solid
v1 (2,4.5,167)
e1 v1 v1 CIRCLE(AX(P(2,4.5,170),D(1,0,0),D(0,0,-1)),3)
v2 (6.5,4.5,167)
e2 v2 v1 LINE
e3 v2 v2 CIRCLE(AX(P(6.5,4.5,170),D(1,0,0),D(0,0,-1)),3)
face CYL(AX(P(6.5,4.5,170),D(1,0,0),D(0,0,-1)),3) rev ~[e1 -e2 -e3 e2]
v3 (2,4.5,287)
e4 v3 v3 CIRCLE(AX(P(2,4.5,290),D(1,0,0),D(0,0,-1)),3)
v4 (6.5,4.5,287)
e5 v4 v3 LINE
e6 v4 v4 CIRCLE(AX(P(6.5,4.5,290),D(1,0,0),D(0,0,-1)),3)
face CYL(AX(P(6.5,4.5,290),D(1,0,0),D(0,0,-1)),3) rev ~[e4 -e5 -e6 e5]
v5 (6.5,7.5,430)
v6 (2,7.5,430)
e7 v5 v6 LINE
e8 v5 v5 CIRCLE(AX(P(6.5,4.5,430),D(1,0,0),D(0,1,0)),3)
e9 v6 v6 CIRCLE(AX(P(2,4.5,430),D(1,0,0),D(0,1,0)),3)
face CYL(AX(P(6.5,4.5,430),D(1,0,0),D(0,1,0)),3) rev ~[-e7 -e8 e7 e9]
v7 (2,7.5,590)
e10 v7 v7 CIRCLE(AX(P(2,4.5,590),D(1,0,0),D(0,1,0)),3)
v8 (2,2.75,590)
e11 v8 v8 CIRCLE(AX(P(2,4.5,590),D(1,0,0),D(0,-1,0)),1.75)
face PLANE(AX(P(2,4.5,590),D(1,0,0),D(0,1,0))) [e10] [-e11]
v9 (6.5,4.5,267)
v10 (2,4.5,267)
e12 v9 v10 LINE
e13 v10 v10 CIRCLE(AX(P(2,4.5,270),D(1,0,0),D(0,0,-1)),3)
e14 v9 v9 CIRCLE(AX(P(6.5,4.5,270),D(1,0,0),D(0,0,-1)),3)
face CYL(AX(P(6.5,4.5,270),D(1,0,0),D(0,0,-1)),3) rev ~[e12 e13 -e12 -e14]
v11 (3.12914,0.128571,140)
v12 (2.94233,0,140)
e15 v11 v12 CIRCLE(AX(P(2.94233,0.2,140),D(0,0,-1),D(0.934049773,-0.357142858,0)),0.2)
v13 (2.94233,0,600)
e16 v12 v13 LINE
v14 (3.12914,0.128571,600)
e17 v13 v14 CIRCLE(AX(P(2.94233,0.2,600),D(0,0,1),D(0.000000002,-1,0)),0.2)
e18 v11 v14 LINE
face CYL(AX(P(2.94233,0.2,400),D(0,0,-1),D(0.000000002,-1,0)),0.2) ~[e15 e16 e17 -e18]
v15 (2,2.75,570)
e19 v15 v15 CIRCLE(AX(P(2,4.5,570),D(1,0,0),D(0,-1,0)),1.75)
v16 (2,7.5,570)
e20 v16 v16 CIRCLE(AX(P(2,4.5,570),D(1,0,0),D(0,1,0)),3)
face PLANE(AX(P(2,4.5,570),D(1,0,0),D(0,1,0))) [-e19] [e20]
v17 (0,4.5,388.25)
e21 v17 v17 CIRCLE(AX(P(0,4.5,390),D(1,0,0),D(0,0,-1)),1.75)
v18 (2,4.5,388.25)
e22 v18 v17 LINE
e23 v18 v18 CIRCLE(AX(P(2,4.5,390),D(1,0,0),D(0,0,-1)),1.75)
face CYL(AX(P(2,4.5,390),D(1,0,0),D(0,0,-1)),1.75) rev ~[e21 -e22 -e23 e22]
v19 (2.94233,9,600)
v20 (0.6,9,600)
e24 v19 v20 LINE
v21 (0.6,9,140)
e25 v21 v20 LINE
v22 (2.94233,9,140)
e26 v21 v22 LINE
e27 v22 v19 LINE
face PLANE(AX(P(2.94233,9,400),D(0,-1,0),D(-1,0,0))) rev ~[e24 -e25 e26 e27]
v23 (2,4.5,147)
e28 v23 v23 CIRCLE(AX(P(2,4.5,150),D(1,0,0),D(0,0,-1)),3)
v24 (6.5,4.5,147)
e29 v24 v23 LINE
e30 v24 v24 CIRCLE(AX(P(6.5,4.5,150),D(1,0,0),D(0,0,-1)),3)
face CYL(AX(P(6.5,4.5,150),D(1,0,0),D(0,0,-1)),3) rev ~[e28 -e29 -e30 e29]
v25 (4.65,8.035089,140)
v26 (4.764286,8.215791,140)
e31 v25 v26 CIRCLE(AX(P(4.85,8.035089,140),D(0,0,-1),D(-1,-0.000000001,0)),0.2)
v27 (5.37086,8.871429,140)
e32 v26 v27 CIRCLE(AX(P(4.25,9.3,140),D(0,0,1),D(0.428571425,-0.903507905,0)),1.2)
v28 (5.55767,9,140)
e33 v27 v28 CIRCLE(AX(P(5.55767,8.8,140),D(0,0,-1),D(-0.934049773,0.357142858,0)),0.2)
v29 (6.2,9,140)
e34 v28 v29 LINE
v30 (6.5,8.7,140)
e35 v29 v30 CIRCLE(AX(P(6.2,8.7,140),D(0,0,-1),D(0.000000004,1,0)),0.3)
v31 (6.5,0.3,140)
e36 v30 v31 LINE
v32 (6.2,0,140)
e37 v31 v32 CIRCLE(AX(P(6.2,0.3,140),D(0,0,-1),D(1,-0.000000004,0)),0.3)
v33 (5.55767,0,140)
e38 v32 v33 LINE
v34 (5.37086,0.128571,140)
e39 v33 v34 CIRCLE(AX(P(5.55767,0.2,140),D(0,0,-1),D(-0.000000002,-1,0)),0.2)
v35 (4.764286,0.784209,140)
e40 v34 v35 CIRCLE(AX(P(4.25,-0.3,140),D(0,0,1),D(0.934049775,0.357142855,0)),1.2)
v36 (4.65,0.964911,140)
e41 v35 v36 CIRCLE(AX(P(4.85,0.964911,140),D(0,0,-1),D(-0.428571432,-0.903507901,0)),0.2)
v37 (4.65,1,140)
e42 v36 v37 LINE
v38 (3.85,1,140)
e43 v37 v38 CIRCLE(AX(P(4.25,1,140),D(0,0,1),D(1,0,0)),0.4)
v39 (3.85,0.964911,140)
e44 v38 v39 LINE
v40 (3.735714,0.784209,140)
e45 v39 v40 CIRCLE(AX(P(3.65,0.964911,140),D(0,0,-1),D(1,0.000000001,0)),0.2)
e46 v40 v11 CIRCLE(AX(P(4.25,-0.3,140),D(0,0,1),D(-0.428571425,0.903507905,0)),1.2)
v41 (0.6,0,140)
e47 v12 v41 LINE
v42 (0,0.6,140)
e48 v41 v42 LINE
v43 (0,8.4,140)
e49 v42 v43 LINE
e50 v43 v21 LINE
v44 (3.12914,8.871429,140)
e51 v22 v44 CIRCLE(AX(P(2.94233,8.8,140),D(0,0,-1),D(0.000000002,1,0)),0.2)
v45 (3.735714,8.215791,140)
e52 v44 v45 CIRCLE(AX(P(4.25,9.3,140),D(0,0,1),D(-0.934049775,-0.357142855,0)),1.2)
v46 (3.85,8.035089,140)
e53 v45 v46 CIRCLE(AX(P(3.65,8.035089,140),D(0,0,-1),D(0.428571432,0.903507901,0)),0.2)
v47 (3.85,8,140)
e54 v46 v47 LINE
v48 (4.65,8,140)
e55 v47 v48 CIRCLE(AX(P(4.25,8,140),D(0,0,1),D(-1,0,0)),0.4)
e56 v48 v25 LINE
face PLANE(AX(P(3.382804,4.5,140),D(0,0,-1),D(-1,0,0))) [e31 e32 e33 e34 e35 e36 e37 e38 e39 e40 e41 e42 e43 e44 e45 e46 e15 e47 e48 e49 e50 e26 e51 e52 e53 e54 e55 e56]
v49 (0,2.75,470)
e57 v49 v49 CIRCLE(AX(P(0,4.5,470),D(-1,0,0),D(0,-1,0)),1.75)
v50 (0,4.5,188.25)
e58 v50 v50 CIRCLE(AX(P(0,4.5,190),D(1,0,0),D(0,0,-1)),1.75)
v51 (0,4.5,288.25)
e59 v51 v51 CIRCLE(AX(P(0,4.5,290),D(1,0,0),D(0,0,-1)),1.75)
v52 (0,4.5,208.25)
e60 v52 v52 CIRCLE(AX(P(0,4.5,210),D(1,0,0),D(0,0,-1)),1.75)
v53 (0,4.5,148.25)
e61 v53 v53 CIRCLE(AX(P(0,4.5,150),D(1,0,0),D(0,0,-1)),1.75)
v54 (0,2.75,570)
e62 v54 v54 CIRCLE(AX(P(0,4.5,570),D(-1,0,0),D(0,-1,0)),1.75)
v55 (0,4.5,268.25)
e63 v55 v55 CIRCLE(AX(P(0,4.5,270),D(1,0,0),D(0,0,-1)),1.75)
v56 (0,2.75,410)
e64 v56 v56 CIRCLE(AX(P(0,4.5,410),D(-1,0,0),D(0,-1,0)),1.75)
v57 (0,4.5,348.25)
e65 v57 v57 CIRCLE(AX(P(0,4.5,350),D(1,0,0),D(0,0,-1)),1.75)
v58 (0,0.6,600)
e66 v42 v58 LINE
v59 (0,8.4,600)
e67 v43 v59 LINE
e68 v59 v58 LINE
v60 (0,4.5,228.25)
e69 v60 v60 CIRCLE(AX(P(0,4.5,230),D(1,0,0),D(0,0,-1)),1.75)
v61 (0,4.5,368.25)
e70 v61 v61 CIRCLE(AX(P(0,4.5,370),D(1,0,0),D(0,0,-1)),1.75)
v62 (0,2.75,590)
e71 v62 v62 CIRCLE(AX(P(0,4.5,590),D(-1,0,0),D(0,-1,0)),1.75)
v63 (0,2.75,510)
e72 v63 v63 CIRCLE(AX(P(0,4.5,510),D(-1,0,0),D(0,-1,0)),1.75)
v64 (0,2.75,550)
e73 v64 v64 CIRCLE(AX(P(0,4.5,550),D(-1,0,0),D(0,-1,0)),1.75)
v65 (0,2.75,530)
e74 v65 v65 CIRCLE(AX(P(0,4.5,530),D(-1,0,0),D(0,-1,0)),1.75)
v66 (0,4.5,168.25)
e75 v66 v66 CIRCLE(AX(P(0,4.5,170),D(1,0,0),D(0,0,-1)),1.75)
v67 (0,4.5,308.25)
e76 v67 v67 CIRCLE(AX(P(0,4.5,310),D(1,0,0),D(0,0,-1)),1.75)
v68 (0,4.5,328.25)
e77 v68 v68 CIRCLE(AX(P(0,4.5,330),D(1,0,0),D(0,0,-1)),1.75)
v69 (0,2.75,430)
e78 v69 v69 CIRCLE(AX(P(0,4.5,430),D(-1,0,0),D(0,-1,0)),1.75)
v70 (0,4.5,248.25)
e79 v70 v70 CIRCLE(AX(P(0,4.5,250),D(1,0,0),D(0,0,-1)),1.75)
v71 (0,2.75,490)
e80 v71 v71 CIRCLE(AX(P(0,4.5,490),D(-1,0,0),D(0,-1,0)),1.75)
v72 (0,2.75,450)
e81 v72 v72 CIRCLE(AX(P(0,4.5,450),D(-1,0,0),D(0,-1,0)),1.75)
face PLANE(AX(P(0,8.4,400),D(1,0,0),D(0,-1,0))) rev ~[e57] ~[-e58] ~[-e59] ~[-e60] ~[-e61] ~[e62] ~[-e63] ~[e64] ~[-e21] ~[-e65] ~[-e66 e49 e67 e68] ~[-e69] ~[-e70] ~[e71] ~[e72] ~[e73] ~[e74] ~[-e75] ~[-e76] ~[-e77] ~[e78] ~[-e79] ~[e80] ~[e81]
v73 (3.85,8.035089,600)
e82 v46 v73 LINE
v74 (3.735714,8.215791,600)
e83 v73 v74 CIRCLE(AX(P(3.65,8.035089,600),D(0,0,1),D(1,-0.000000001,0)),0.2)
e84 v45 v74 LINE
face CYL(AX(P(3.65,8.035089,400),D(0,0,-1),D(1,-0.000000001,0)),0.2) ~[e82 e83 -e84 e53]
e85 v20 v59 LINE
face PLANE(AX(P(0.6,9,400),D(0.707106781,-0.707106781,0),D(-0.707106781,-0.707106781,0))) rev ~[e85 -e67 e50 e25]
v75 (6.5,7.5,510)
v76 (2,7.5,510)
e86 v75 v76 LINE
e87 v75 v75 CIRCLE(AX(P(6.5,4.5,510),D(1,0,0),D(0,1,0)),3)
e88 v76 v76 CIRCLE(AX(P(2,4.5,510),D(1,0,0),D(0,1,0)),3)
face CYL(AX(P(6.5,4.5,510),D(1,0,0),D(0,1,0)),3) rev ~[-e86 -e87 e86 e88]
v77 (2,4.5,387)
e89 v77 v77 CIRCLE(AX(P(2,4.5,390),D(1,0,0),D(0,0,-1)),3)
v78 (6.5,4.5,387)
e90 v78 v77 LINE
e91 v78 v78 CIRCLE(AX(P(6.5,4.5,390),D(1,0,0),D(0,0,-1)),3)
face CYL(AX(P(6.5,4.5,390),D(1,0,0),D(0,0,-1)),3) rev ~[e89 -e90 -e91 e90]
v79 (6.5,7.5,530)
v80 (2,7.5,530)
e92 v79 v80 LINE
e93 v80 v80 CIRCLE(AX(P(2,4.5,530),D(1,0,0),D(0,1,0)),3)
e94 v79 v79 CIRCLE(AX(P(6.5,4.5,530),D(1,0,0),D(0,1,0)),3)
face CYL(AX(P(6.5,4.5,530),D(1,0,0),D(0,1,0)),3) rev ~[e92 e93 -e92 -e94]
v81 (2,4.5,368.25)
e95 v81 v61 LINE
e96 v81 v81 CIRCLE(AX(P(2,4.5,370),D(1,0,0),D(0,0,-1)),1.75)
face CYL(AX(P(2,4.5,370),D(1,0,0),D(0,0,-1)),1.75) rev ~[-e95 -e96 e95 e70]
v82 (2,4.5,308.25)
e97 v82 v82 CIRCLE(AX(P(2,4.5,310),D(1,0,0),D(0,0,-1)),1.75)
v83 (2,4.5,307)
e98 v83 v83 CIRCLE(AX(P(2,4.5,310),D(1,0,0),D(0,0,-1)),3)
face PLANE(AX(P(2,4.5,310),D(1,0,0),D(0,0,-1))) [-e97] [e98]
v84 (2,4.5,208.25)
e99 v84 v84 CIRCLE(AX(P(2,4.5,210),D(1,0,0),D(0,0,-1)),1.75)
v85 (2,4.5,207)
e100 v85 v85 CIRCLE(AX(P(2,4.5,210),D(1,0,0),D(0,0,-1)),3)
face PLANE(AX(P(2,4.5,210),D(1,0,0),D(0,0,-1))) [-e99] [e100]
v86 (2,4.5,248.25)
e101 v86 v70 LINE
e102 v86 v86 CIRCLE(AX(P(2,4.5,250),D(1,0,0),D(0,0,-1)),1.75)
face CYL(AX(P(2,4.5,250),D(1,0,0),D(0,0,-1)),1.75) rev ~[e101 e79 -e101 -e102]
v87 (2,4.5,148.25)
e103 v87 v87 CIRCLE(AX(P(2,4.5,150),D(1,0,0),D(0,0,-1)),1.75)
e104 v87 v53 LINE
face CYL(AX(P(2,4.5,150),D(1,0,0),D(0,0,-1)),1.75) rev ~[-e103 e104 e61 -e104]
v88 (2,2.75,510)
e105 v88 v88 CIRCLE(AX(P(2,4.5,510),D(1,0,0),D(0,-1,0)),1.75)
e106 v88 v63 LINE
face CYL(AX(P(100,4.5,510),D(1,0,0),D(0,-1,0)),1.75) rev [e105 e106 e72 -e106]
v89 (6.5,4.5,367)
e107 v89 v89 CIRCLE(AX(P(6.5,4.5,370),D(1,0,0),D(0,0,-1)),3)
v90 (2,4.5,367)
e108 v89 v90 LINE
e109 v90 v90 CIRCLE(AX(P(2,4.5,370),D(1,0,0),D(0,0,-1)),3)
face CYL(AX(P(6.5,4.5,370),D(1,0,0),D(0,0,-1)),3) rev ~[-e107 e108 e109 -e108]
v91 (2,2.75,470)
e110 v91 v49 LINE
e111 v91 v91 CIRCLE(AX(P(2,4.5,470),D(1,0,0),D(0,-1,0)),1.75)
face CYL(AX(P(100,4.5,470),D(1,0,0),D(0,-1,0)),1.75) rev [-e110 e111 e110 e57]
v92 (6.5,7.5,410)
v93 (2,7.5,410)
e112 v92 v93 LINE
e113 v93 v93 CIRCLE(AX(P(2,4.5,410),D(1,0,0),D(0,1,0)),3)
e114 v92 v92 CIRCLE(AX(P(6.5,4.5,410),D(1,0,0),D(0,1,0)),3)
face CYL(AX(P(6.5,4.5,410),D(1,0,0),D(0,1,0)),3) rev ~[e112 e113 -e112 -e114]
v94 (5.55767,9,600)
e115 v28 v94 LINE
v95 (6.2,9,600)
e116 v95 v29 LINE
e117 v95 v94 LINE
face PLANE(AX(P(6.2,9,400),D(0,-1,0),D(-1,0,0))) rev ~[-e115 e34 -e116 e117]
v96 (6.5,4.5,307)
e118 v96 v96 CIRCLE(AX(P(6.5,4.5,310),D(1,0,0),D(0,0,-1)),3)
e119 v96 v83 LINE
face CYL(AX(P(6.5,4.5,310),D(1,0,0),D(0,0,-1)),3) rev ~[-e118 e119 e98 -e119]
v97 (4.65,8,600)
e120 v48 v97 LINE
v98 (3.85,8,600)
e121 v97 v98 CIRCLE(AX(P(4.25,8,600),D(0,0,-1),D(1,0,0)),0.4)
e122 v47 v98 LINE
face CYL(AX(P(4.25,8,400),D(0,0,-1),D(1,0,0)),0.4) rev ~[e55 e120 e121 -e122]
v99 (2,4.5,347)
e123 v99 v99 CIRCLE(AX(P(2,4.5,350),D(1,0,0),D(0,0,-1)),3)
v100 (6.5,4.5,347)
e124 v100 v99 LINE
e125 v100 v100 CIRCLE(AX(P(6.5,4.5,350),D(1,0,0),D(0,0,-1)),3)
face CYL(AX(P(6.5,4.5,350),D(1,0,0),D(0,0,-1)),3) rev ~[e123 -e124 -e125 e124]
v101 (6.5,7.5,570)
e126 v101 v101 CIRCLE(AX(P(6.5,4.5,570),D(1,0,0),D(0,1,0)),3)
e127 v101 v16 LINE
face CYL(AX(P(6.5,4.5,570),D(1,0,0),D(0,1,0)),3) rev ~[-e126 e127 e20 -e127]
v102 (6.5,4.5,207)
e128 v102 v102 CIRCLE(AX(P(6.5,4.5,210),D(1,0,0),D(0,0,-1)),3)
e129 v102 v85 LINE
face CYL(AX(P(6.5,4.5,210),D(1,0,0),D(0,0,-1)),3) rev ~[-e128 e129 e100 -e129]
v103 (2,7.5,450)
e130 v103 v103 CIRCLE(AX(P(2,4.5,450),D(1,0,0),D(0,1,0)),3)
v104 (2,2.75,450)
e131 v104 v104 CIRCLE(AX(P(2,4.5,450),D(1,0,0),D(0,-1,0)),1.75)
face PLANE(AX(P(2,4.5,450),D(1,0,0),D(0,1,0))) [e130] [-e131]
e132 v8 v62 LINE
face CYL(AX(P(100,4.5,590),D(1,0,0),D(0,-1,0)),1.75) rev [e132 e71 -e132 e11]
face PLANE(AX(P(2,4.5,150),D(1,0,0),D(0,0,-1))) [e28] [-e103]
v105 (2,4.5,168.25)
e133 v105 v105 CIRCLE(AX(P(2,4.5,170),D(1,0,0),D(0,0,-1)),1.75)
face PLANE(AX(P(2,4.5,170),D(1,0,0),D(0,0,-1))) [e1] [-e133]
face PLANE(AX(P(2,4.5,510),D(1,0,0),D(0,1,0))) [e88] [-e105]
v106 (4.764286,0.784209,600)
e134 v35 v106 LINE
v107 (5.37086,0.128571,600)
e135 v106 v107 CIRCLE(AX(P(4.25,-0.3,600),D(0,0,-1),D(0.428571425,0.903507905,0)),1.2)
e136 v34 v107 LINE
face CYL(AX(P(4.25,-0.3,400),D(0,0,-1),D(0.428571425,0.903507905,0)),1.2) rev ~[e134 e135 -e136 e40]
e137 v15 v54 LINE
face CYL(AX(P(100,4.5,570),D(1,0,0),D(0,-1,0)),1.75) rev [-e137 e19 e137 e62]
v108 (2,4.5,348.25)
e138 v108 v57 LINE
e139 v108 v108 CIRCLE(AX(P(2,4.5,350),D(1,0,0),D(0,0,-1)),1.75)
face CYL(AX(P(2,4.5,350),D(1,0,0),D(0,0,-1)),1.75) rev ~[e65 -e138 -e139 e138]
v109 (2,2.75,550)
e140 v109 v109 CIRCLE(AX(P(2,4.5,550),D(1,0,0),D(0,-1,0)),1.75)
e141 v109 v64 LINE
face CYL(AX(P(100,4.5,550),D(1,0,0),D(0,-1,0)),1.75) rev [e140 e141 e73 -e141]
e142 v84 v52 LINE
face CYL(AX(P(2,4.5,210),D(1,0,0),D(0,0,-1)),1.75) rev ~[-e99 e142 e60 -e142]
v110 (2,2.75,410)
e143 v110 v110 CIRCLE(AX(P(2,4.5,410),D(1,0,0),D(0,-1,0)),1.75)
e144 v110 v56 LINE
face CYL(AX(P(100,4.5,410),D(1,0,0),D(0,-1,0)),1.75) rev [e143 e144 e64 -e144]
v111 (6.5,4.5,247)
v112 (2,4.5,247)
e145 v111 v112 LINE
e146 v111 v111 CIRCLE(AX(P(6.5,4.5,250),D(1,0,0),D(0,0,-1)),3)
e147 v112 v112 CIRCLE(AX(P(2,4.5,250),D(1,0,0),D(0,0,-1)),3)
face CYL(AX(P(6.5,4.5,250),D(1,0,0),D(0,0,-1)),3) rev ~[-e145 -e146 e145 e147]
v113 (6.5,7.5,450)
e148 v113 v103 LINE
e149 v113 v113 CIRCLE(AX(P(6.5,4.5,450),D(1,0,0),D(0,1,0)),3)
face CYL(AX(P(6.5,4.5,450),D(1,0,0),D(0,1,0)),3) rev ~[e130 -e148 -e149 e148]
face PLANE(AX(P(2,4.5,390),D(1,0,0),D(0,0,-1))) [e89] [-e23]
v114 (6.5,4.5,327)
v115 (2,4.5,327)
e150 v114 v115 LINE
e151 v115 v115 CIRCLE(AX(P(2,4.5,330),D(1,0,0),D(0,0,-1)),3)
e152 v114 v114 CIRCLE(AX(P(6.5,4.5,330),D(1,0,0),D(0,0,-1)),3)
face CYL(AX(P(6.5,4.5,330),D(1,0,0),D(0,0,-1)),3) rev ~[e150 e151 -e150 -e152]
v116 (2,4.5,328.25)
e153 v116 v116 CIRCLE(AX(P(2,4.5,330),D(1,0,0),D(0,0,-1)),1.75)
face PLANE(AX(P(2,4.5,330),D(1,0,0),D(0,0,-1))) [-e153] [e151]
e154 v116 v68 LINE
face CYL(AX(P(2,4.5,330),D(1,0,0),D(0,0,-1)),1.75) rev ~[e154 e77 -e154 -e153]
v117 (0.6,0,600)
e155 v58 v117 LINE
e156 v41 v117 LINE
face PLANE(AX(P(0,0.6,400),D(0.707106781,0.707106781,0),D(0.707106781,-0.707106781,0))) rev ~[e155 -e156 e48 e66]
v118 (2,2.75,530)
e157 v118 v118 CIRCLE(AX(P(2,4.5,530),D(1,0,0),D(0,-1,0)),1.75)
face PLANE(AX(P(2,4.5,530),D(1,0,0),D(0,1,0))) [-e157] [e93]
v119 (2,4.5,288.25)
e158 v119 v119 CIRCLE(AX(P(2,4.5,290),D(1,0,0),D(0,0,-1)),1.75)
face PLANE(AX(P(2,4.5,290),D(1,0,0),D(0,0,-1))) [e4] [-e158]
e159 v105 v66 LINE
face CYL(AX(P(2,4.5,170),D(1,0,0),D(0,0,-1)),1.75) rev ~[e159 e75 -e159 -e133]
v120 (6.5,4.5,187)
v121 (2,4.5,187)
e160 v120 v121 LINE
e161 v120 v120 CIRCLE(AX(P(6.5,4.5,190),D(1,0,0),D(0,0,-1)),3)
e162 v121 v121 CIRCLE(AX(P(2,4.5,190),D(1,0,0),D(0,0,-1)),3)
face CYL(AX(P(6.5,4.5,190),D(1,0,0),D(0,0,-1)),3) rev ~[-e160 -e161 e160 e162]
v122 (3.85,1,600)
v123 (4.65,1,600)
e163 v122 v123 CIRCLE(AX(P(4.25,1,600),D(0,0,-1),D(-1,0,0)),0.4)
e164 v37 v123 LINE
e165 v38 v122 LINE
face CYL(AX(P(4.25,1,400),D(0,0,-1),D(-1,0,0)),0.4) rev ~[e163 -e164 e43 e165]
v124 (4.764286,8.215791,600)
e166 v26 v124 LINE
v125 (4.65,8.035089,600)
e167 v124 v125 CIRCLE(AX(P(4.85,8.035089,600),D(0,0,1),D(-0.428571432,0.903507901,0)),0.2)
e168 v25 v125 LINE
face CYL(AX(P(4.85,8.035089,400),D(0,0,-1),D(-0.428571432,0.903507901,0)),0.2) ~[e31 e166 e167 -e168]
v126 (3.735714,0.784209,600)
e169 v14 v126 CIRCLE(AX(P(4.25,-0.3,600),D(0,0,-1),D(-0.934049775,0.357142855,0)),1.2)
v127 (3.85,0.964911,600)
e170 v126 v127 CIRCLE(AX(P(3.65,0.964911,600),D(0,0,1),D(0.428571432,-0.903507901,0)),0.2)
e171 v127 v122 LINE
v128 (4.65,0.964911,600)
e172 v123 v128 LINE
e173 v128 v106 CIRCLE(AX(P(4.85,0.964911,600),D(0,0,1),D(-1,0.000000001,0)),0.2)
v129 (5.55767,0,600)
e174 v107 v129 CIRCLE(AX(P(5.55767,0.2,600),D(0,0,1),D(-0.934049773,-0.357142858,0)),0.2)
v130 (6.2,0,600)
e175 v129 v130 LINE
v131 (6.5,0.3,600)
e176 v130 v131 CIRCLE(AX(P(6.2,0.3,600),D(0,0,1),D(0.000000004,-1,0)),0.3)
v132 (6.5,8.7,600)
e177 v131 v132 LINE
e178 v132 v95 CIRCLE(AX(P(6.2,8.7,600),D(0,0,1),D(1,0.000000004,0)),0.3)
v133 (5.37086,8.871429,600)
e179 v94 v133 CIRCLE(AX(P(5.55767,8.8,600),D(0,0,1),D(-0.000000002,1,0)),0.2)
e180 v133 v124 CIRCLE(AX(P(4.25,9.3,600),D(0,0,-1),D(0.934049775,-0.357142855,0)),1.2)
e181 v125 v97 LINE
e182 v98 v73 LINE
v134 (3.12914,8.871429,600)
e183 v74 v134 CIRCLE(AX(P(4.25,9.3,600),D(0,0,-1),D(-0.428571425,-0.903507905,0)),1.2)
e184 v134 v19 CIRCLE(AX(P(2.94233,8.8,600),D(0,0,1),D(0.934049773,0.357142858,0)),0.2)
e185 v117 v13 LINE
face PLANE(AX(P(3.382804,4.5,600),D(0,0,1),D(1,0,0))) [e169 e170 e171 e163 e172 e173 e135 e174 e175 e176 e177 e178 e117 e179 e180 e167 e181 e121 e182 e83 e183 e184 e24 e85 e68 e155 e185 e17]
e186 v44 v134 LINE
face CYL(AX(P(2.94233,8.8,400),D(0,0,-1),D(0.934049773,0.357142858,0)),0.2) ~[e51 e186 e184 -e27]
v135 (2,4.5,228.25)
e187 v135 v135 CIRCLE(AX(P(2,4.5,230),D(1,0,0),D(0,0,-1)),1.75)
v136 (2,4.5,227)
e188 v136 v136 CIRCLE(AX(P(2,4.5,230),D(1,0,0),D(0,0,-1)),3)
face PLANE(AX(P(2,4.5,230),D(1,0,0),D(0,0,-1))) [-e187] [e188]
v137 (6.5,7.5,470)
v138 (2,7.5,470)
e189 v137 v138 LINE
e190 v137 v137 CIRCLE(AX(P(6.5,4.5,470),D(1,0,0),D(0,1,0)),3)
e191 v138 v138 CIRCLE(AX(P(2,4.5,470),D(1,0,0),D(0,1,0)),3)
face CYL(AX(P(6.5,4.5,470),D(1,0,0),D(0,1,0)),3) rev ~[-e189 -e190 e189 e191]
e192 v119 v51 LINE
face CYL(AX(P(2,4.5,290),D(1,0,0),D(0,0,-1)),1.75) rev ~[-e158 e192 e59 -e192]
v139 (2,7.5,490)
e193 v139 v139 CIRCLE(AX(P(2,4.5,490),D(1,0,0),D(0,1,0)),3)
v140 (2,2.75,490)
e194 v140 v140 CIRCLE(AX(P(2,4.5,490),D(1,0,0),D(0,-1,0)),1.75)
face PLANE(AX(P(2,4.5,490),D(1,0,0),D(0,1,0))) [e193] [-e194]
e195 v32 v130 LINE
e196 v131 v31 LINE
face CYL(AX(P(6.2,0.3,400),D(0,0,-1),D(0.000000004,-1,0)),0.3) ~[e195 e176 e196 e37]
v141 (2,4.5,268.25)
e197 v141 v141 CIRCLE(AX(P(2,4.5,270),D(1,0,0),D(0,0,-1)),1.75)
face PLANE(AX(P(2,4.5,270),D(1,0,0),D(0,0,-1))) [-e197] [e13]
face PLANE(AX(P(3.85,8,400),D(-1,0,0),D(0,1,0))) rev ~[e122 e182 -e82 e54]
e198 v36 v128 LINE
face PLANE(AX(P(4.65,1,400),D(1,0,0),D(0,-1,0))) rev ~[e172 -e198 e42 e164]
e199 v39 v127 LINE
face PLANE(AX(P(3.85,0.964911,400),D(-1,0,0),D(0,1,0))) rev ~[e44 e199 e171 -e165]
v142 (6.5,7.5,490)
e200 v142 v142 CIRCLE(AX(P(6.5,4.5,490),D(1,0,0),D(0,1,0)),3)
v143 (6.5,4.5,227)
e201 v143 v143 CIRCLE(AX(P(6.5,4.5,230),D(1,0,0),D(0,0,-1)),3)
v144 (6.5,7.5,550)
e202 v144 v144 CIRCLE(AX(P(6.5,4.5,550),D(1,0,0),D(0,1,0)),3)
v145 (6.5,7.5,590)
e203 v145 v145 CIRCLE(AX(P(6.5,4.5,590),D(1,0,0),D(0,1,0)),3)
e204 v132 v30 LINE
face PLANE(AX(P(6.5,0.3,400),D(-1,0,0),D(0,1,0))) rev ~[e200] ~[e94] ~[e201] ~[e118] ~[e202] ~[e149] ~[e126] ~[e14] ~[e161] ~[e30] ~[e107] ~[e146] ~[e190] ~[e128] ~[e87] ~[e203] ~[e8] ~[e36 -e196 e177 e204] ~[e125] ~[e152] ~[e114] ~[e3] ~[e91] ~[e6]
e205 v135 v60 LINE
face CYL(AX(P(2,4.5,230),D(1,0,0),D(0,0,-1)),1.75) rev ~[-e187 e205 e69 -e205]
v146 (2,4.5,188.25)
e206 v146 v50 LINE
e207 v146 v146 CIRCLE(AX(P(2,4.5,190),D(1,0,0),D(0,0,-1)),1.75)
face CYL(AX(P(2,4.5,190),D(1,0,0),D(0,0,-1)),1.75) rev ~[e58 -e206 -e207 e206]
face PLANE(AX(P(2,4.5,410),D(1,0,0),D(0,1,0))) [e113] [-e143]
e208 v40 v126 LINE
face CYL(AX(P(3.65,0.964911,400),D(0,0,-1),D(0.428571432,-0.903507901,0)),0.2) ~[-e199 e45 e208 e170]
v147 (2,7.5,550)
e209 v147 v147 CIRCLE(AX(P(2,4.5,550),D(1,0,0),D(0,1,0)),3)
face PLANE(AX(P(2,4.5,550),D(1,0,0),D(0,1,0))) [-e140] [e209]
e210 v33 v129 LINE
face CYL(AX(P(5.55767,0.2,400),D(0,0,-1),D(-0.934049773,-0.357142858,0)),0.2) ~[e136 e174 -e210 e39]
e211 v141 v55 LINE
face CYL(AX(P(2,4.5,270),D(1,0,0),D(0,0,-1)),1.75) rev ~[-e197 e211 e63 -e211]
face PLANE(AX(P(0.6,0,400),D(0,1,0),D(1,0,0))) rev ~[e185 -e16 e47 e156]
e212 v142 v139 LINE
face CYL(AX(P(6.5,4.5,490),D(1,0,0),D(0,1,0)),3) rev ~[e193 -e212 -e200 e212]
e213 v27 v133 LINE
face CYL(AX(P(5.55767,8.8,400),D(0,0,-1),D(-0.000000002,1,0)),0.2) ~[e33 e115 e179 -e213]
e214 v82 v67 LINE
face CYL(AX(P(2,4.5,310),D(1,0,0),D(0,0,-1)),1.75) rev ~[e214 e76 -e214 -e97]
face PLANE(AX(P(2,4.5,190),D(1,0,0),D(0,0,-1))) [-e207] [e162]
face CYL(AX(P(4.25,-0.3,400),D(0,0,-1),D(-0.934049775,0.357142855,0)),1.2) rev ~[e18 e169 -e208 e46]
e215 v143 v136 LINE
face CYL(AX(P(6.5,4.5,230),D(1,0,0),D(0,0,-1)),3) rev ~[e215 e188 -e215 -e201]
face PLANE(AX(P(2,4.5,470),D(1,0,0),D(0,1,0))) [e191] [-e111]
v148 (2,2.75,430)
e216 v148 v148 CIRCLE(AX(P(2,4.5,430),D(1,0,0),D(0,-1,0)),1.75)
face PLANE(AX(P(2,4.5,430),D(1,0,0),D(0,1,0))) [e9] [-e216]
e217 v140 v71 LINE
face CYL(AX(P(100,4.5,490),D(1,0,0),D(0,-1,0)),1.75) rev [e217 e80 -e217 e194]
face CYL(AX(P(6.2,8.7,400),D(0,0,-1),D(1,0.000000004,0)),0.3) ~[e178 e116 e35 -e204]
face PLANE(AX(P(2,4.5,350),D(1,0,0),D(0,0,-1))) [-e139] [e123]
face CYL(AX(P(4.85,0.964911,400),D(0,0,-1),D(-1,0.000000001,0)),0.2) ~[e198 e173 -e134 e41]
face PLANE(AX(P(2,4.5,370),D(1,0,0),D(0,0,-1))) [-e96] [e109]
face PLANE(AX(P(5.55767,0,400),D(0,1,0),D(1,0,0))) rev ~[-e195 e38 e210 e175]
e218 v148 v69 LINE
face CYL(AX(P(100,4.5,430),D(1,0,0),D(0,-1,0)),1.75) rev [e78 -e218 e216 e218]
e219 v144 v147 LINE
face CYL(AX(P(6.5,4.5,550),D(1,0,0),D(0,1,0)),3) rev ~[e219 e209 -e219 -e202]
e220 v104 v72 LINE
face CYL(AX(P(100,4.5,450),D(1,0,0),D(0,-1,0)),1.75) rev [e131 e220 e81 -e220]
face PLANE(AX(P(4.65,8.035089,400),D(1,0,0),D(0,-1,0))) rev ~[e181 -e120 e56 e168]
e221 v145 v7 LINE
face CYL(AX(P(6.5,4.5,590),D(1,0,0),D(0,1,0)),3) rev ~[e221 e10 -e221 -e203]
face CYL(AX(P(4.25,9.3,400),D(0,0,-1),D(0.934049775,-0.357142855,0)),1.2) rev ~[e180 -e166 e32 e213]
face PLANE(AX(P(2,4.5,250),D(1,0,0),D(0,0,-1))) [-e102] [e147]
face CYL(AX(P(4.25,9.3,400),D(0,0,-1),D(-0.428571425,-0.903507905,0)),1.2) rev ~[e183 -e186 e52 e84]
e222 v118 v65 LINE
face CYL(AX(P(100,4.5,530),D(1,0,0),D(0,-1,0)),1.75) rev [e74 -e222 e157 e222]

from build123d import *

# Parameters (mm, degrees)
EXTRUDE_1_DEPTH      = 400
SKETCH_2_R           = 3
CUT_EXTRUDE_1_DEPTH  = 4.5
SKETCH_3_R           = 1.75
CUT_EXTRUDE_2_DEPTH  = 401.126542484
CUT_EXTRUDE_4_DEPTH  = 80
EXTRUDE_2_DEPTH      = 200
CUT_EXTRUDE_START    = -100
SKETCH_7_R           = 1.75
CUT_EXTRUDE_5_DEPTH  = 100
SKETCH_8_R           = 3
CUT_EXTRUDE_6_DEPTH  = 4.5
CUT_EXTRUDE_10_DEPTH = 60


with BuildPart() as part:
    # 草图1 → 凸台-拉伸1 (new body)
    with BuildSketch(Plane.XY):
        with BuildLine():
            ThreePointArc((6.2, 9), (6.412132034, 8.912132034), (6.5, 8.7))
            Line((6.5, 8.7), (6.5, 0.3))
            ThreePointArc((6.5, 0.3), (6.412132034, 0.087867966), (6.2, 0))
            Line((6.2, 0), (5.557669683, 0))
            ThreePointArc((5.557669683, 0), (5.444280341, 0.035249106), (5.370859728, 0.128571429))
            ThreePointArc((5.370859728, 0.128571429), (5.130846451, 0.514929157), (4.764285714, 0.784209483))
            ThreePointArc((4.764285714, 0.784209483), (4.680969149, 0.858006567), (4.65, 0.964911064))
            Line((4.65, 0.964911064), (4.65, 1))
            ThreePointArc((4.65, 1), (4.25, 1.4), (3.85, 1))
            Line((3.85, 1), (3.85, 0.964911064))
            ThreePointArc((3.85, 0.964911064), (3.819030851, 0.858006567), (3.735714286, 0.784209483))
            ThreePointArc((3.735714286, 0.784209483), (3.369153549, 0.514929157), (3.129140272, 0.128571429))
            ThreePointArc((3.129140272, 0.128571429), (3.055719659, 0.035249106), (2.942330317, 0))
            Line((2.942330317, 0), (0.6, 0))
            Line((0.6, 0), (0, 0.6))
            Line((0, 0.6), (0, 8.4))
            Line((0, 8.4), (0.6, 9))
            Line((0.6, 9), (2.942330317, 9))
            ThreePointArc((2.942330317, 9), (3.055719659, 8.964750894), (3.129140272, 8.871428571))
            ThreePointArc((3.129140272, 8.871428571), (3.369153549, 8.485070843), (3.735714286, 8.215790517))
            ThreePointArc((3.735714286, 8.215790517), (3.819030851, 8.141993433), (3.85, 8.035088936))
            Line((3.85, 8.035088936), (3.85, 8))
            ThreePointArc((3.85, 8), (4.25, 7.6), (4.65, 8))
            Line((4.65, 8), (4.65, 8.035088936))
            ThreePointArc((4.65, 8.035088936), (4.680969149, 8.141993433), (4.764285714, 8.215790517))
            ThreePointArc((4.764285714, 8.215790517), (5.130846451, 8.485070843), (5.370859728, 8.871428571))
            ThreePointArc((5.370859728, 8.871428571), (5.444280341, 8.964750894), (5.557669683, 9))
            Line((5.557669683, 9), (6.2, 9))
        make_face()
    extrude(amount=EXTRUDE_1_DEPTH)

    # 草图2 → 切除-拉伸1 (cut)
    with BuildSketch(Plane(origin=(6.5, 0, 0), x_dir=(0, 0, -1), z_dir=(1, 0, 0))):
        with Locations((-10, 4.5)):
            Circle(SKETCH_2_R)
        with Locations((-30, 4.5)):
            Circle(SKETCH_2_R)
        with Locations((-50, 4.5)):
            Circle(SKETCH_2_R)
        with Locations((-70, 4.5)):
            Circle(SKETCH_2_R)
        with Locations((-90, 4.5)):
            Circle(SKETCH_2_R)
        with Locations((-110, 4.5)):
            Circle(SKETCH_2_R)
        with Locations((-130, 4.5)):
            Circle(SKETCH_2_R)
        with Locations((-150, 4.5)):
            Circle(SKETCH_2_R)
        with Locations((-170, 4.5)):
            Circle(SKETCH_2_R)
        with Locations((-190, 4.5)):
            Circle(SKETCH_2_R)
        with Locations((-210, 4.5)):
            Circle(SKETCH_2_R)
        with Locations((-230, 4.5)):
            Circle(SKETCH_2_R)
        with Locations((-250, 4.5)):
            Circle(SKETCH_2_R)
        with Locations((-270, 4.5)):
            Circle(SKETCH_2_R)
        with Locations((-290, 4.5)):
            Circle(SKETCH_2_R)
        with Locations((-310, 4.5)):
            Circle(SKETCH_2_R)
        with Locations((-330, 4.5)):
            Circle(SKETCH_2_R)
        with Locations((-350, 4.5)):
            Circle(SKETCH_2_R)
        with Locations((-370, 4.5)):
            Circle(SKETCH_2_R)
        with Locations((-390, 4.5)):
            Circle(SKETCH_2_R)
        with Locations((-410, 4.5)):
            Circle(SKETCH_2_R)
        with Locations((-430, 4.5)):
            Circle(SKETCH_2_R)
        with Locations((-450, 4.5)):
            Circle(SKETCH_2_R)
        with Locations((-470, 4.5)):
            Circle(SKETCH_2_R)
        with Locations((-490, 4.5)):
            Circle(SKETCH_2_R)
        with Locations((-510, 4.5)):
            Circle(SKETCH_2_R)
        with Locations((-530, 4.5)):
            Circle(SKETCH_2_R)
        with Locations((-550, 4.5)):
            Circle(SKETCH_2_R)
        with Locations((-570, 4.5)):
            Circle(SKETCH_2_R)
        with Locations((-590, 4.5)):
            Circle(SKETCH_2_R)
        with Locations((-610, 4.5)):
            Circle(SKETCH_2_R)
        with Locations((-630, 4.5)):
            Circle(SKETCH_2_R)
        with Locations((-650, 4.5)):
            Circle(SKETCH_2_R)
        with Locations((-670, 4.5)):
            Circle(SKETCH_2_R)
        with Locations((-690, 4.5)):
            Circle(SKETCH_2_R)
        with Locations((-710, 4.5)):
            Circle(SKETCH_2_R)
        with Locations((-730, 4.5)):
            Circle(SKETCH_2_R)
        with Locations((-750, 4.5)):
            Circle(SKETCH_2_R)
        with Locations((-770, 4.5)):
            Circle(SKETCH_2_R)
        with Locations((-790, 4.5)):
            Circle(SKETCH_2_R)
        with Locations((-810, 4.5)):
            Circle(SKETCH_2_R)
        with Locations((-830, 4.5)):
            Circle(SKETCH_2_R)
        with Locations((-850, 4.5)):
            Circle(SKETCH_2_R)
        with Locations((-870, 4.5)):
            Circle(SKETCH_2_R)
        with Locations((-890, 4.5)):
            Circle(SKETCH_2_R)
        with Locations((-910, 4.5)):
            Circle(SKETCH_2_R)
        with Locations((-930, 4.5)):
            Circle(SKETCH_2_R)
        with Locations((-950, 4.5)):
            Circle(SKETCH_2_R)
        with Locations((-970, 4.5)):
            Circle(SKETCH_2_R)
        with Locations((-990, 4.5)):
            Circle(SKETCH_2_R)
        with Locations((-1010, 4.5)):
            Circle(SKETCH_2_R)
        with Locations((-1030, 4.5)):
            Circle(SKETCH_2_R)
        with Locations((-1050, 4.5)):
            Circle(SKETCH_2_R)
        with Locations((-1070, 4.5)):
            Circle(SKETCH_2_R)
        with Locations((-1090, 4.5)):
            Circle(SKETCH_2_R)
        with Locations((-1110, 4.5)):
            Circle(SKETCH_2_R)
        with Locations((-1130, 4.5)):
            Circle(SKETCH_2_R)
        with Locations((-1150, 4.5)):
            Circle(SKETCH_2_R)
        with Locations((-1170, 4.5)):
            Circle(SKETCH_2_R)
        with Locations((-1190, 4.5)):
            Circle(SKETCH_2_R)
        with Locations((-1210, 4.5)):
            Circle(SKETCH_2_R)
        with Locations((-1230, 4.5)):
            Circle(SKETCH_2_R)
        with Locations((-1250, 4.5)):
            Circle(SKETCH_2_R)
        with Locations((-1270, 4.5)):
            Circle(SKETCH_2_R)
        with Locations((-1290, 4.5)):
            Circle(SKETCH_2_R)
        with Locations((-1310, 4.5)):
            Circle(SKETCH_2_R)
        with Locations((-1330, 4.5)):
            Circle(SKETCH_2_R)
        with Locations((-1350, 4.5)):
            Circle(SKETCH_2_R)
        with Locations((-1370, 4.5)):
            Circle(SKETCH_2_R)
        with Locations((-1390, 4.5)):
            Circle(SKETCH_2_R)
        with Locations((-1410, 4.5)):
            Circle(SKETCH_2_R)
        with Locations((-1430, 4.5)):
            Circle(SKETCH_2_R)
        with Locations((-1450, 4.5)):
            Circle(SKETCH_2_R)
        with Locations((-1470, 4.5)):
            Circle(SKETCH_2_R)
        with Locations((-1490, 4.5)):
            Circle(SKETCH_2_R)
        with Locations((-1510, 4.5)):
            Circle(SKETCH_2_R)
        with Locations((-1530, 4.5)):
            Circle(SKETCH_2_R)
        with Locations((-1550, 4.5)):
            Circle(SKETCH_2_R)
        with Locations((-1570, 4.5)):
            Circle(SKETCH_2_R)
        with Locations((-1590, 4.5)):
            Circle(SKETCH_2_R)
        with Locations((-1610, 4.5)):
            Circle(SKETCH_2_R)
        with Locations((-1630, 4.5)):
            Circle(SKETCH_2_R)
        with Locations((-1650, 4.5)):
            Circle(SKETCH_2_R)
        with Locations((-1670, 4.5)):
            Circle(SKETCH_2_R)
        with Locations((-1690, 4.5)):
            Circle(SKETCH_2_R)
        with Locations((-1710, 4.5)):
            Circle(SKETCH_2_R)
        with Locations((-1730, 4.5)):
            Circle(SKETCH_2_R)
        with Locations((-1750, 4.5)):
            Circle(SKETCH_2_R)
        with Locations((-1770, 4.5)):
            Circle(SKETCH_2_R)
        with Locations((-1790, 4.5)):
            Circle(SKETCH_2_R)
        with Locations((-1810, 4.5)):
            Circle(SKETCH_2_R)
        with Locations((-1830, 4.5)):
            Circle(SKETCH_2_R)
        with Locations((-1850, 4.5)):
            Circle(SKETCH_2_R)
        with Locations((-1870, 4.5)):
            Circle(SKETCH_2_R)
        with Locations((-1890, 4.5)):
            Circle(SKETCH_2_R)
        with Locations((-1910, 4.5)):
            Circle(SKETCH_2_R)
        with Locations((-1930, 4.5)):
            Circle(SKETCH_2_R)
        with Locations((-1950, 4.5)):
            Circle(SKETCH_2_R)
        with Locations((-1970, 4.5)):
            Circle(SKETCH_2_R)
        with Locations((-1990, 4.5)):
            Circle(SKETCH_2_R)
        with Locations((-2010, 4.5)):
            Circle(SKETCH_2_R)
        with Locations((-2030, 4.5)):
            Circle(SKETCH_2_R)
        with Locations((-2050, 4.5)):
            Circle(SKETCH_2_R)
        with Locations((-2070, 4.5)):
            Circle(SKETCH_2_R)
        with Locations((-2090, 4.5)):
            Circle(SKETCH_2_R)
        with Locations((-2110, 4.5)):
            Circle(SKETCH_2_R)
        with Locations((-2130, 4.5)):
            Circle(SKETCH_2_R)
        with Locations((-2150, 4.5)):
            Circle(SKETCH_2_R)
        with Locations((-2170, 4.5)):
            Circle(SKETCH_2_R)
        with Locations((-2190, 4.5)):
            Circle(SKETCH_2_R)
        with Locations((-2210, 4.5)):
            Circle(SKETCH_2_R)
        with Locations((-2230, 4.5)):
            Circle(SKETCH_2_R)
        with Locations((-2250, 4.5)):
            Circle(SKETCH_2_R)
        with Locations((-2270, 4.5)):
            Circle(SKETCH_2_R)
        with Locations((-2290, 4.5)):
            Circle(SKETCH_2_R)
        with Locations((-2310, 4.5)):
            Circle(SKETCH_2_R)
        with Locations((-2330, 4.5)):
            Circle(SKETCH_2_R)
        with Locations((-2350, 4.5)):
            Circle(SKETCH_2_R)
        with Locations((-2370, 4.5)):
            Circle(SKETCH_2_R)
        with Locations((-2390, 4.5)):
            Circle(SKETCH_2_R)
        with Locations((-2410, 4.5)):
            Circle(SKETCH_2_R)
        with Locations((-2430, 4.5)):
            Circle(SKETCH_2_R)
        with Locations((-2450, 4.5)):
            Circle(SKETCH_2_R)
        with Locations((-2470, 4.5)):
            Circle(SKETCH_2_R)
    extrude(amount=-CUT_EXTRUDE_1_DEPTH, mode=Mode.SUBTRACT)

    # 草图3 → 切除-拉伸2 (cut, through all)
    with BuildSketch(Plane(origin=(2, 0, 0), x_dir=(0, 0, -1), z_dir=(1, 0, 0))):
        with Locations((-10, 4.5)):
            Circle(SKETCH_3_R)
        with Locations((-30, 4.5)):
            Circle(SKETCH_3_R)
        with Locations((-50, 4.5)):
            Circle(SKETCH_3_R)
        with Locations((-70, 4.5)):
            Circle(SKETCH_3_R)
        with Locations((-90, 4.5)):
            Circle(SKETCH_3_R)
        with Locations((-110, 4.5)):
            Circle(SKETCH_3_R)
        with Locations((-130, 4.5)):
            Circle(SKETCH_3_R)
        with Locations((-150, 4.5)):
            Circle(SKETCH_3_R)
        with Locations((-170, 4.5)):
            Circle(SKETCH_3_R)
        with Locations((-190, 4.5)):
            Circle(SKETCH_3_R)
        with Locations((-210, 4.5)):
            Circle(SKETCH_3_R)
        with Locations((-230, 4.5)):
            Circle(SKETCH_3_R)
        with Locations((-250, 4.5)):
            Circle(SKETCH_3_R)
        with Locations((-270, 4.5)):
            Circle(SKETCH_3_R)
        with Locations((-290, 4.5)):
            Circle(SKETCH_3_R)
        with Locations((-310, 4.5)):
            Circle(SKETCH_3_R)
        with Locations((-330, 4.5)):
            Circle(SKETCH_3_R)
        with Locations((-350, 4.5)):
            Circle(SKETCH_3_R)
        with Locations((-370, 4.5)):
            Circle(SKETCH_3_R)
        with Locations((-390, 4.5)):
            Circle(SKETCH_3_R)
        with Locations((-410, 4.5)):
            Circle(SKETCH_3_R)
        with Locations((-430, 4.5)):
            Circle(SKETCH_3_R)
        with Locations((-450, 4.5)):
            Circle(SKETCH_3_R)
        with Locations((-470, 4.5)):
            Circle(SKETCH_3_R)
        with Locations((-490, 4.5)):
            Circle(SKETCH_3_R)
        with Locations((-510, 4.5)):
            Circle(SKETCH_3_R)
        with Locations((-530, 4.5)):
            Circle(SKETCH_3_R)
        with Locations((-550, 4.5)):
            Circle(SKETCH_3_R)
        with Locations((-570, 4.5)):
            Circle(SKETCH_3_R)
        with Locations((-590, 4.5)):
            Circle(SKETCH_3_R)
        with Locations((-610, 4.5)):
            Circle(SKETCH_3_R)
        with Locations((-630, 4.5)):
            Circle(SKETCH_3_R)
        with Locations((-650, 4.5)):
            Circle(SKETCH_3_R)
        with Locations((-670, 4.5)):
            Circle(SKETCH_3_R)
        with Locations((-690, 4.5)):
            Circle(SKETCH_3_R)
        with Locations((-710, 4.5)):
            Circle(SKETCH_3_R)
        with Locations((-730, 4.5)):
            Circle(SKETCH_3_R)
        with Locations((-750, 4.5)):
            Circle(SKETCH_3_R)
        with Locations((-770, 4.5)):
            Circle(SKETCH_3_R)
        with Locations((-790, 4.5)):
            Circle(SKETCH_3_R)
        with Locations((-810, 4.5)):
            Circle(SKETCH_3_R)
        with Locations((-830, 4.5)):
            Circle(SKETCH_3_R)
        with Locations((-850, 4.5)):
            Circle(SKETCH_3_R)
        with Locations((-870, 4.5)):
            Circle(SKETCH_3_R)
        with Locations((-890, 4.5)):
            Circle(SKETCH_3_R)
        with Locations((-910, 4.5)):
            Circle(SKETCH_3_R)
        with Locations((-930, 4.5)):
            Circle(SKETCH_3_R)
        with Locations((-950, 4.5)):
            Circle(SKETCH_3_R)
        with Locations((-970, 4.5)):
            Circle(SKETCH_3_R)
        with Locations((-990, 4.5)):
            Circle(SKETCH_3_R)
        with Locations((-1010, 4.5)):
            Circle(SKETCH_3_R)
        with Locations((-1030, 4.5)):
            Circle(SKETCH_3_R)
        with Locations((-1050, 4.5)):
            Circle(SKETCH_3_R)
        with Locations((-1070, 4.5)):
            Circle(SKETCH_3_R)
    extrude(amount=-CUT_EXTRUDE_2_DEPTH, mode=Mode.SUBTRACT)

    # 草图5 → 切除-拉伸4 (cut)
    with BuildSketch(Plane(origin=(0, 0, 0), x_dir=(-1, 0, 0), z_dir=(0, 0, -1))):
        with BuildLine():
            Line((-6.5, 8.7), (-6.5, 0.3))
            ThreePointArc((-6.5, 0.3), (-6.412132034, 0.087867966), (-6.2, 0))
            Line((-6.2, 0), (-5.557669683, 0))
            ThreePointArc((-5.557669683, 0), (-5.444280341, 0.035249106), (-5.370859728, 0.128571429))
            ThreePointArc((-5.370859728, 0.128571429), (-5.130846451, 0.514929157), (-4.764285714, 0.784209483))
            ThreePointArc((-4.764285714, 0.784209483), (-4.680969149, 0.858006567), (-4.65, 0.964911064))
            Line((-4.65, 0.964911064), (-4.65, 1))
            ThreePointArc((-4.65, 1), (-4.25, 1.4), (-3.85, 1))
            Line((-3.85, 1), (-3.85, 0.964911064))
            ThreePointArc((-3.85, 0.964911064), (-3.819030851, 0.858006567), (-3.735714286, 0.784209483))
            ThreePointArc((-3.735714286, 0.784209483), (-3.369153549, 0.514929157), (-3.129140272, 0.128571429))
            ThreePointArc((-3.129140272, 0.128571429), (-3.055719659, 0.035249106), (-2.942330317, 0))
            Line((-2.942330317, 0), (-0.6, 0))
            Line((-0.6, 0), (0, 0.6))
            Line((0, 0.6), (0, 8.4))
            Line((0, 8.4), (-0.6, 9))
            Line((-0.6, 9), (-2.942330317, 9))
            ThreePointArc((-2.942330317, 9), (-3.055719659, 8.964750894), (-3.129140272, 8.871428571))
            ThreePointArc((-3.129140272, 8.871428571), (-3.369153549, 8.485070843), (-3.735714286, 8.215790517))
            ThreePointArc((-3.735714286, 8.215790517), (-3.819030851, 8.141993433), (-3.85, 8.035088936))
            Line((-3.85, 8.035088936), (-3.85, 8))
            ThreePointArc((-3.85, 8), (-4.25, 7.6), (-4.65, 8))
            Line((-4.65, 8), (-4.65, 8.035088936))
            ThreePointArc((-4.65, 8.035088936), (-4.680969149, 8.141993433), (-4.764285714, 8.215790517))
            ThreePointArc((-4.764285714, 8.215790517), (-5.130846451, 8.485070843), (-5.370859728, 8.871428571))
            ThreePointArc((-5.370859728, 8.871428571), (-5.444280341, 8.964750894), (-5.557669683, 9))
            Line((-5.557669683, 9), (-6.2, 9))
            ThreePointArc((-6.2, 9), (-6.412132034, 8.912132034), (-6.5, 8.7))
        make_face()
    extrude(amount=-CUT_EXTRUDE_4_DEPTH, mode=Mode.SUBTRACT)

    # 草图6 → 凸台-拉伸2 (add)
    with BuildSketch(Plane.XY.offset(400)):
        with BuildLine():
            Line((6.2, 9), (5.557669683, 9))
            ThreePointArc((5.557669683, 9), (5.444280341, 8.964750894), (5.370859728, 8.871428571))
            ThreePointArc((5.370859728, 8.871428571), (5.130846451, 8.485070843), (4.764285714, 8.215790517))
            ThreePointArc((4.764285714, 8.215790517), (4.680969149, 8.141993433), (4.65, 8.035088936))
            Line((4.65, 8.035088936), (4.65, 8))
            ThreePointArc((4.65, 8), (4.25, 7.6), (3.85, 8))
            Line((3.85, 8), (3.85, 8.035088936))
            ThreePointArc((3.85, 8.035088936), (3.819030851, 8.141993433), (3.735714286, 8.215790517))
            ThreePointArc((3.735714286, 8.215790517), (3.369153549, 8.485070843), (3.129140272, 8.871428571))
            ThreePointArc((3.129140272, 8.871428571), (3.055719659, 8.964750894), (2.942330317, 9))
            Line((2.942330317, 9), (0.6, 9))
            Line((0.6, 9), (0, 8.4))
            Line((0, 8.4), (0, 0.6))
            Line((0, 0.6), (0.6, 0))
            Line((0.6, 0), (2.942330317, 0))
            ThreePointArc((2.942330317, 0), (3.055719659, 0.035249106), (3.129140272, 0.128571429))
            ThreePointArc((3.129140272, 0.128571429), (3.369153549, 0.514929157), (3.735714286, 0.784209483))
            ThreePointArc((3.735714286, 0.784209483), (3.819030851, 0.858006567), (3.85, 0.964911064))
            Line((3.85, 0.964911064), (3.85, 1))
            ThreePointArc((3.85, 1), (4.25, 1.4), (4.65, 1))
            Line((4.65, 1), (4.65, 0.964911064))
            ThreePointArc((4.65, 0.964911064), (4.680969149, 0.858006567), (4.764285714, 0.784209483))
            ThreePointArc((4.764285714, 0.784209483), (5.130846451, 0.514929157), (5.370859728, 0.128571429))
            ThreePointArc((5.370859728, 0.128571429), (5.444280341, 0.035249106), (5.557669683, 0))
            Line((5.557669683, 0), (6.2, 0))
            ThreePointArc((6.2, 0), (6.412132034, 0.087867966), (6.5, 0.3))
            Line((6.5, 0.3), (6.5, 8.7))
            ThreePointArc((6.5, 8.7), (6.412132034, 8.912132034), (6.2, 9))
        make_face()
    extrude(amount=EXTRUDE_2_DEPTH)

    # 草图7 → 切除-拉伸5 (cut)
    with BuildSketch(Plane.ZY.offset(CUT_EXTRUDE_START)):
        with Locations(Location((390, 4.5, 0), (0, 0, 180))):
            Circle(SKETCH_7_R)
        with Locations(Location((410, 4.5, 0), (0, 0, 270))):
            Circle(SKETCH_7_R)
        with Locations(Location((430, 4.5, 0), (0, 0, 270))):
            Circle(SKETCH_7_R)
        with Locations(Location((450, 4.5, 0), (0, 0, 270))):
            Circle(SKETCH_7_R)
        with Locations(Location((470, 4.5, 0), (0, 0, 270))):
            Circle(SKETCH_7_R)
        with Locations(Location((490, 4.5, 0), (0, 0, 270))):
            Circle(SKETCH_7_R)
        with Locations(Location((510, 4.5, 0), (0, 0, 270))):
            Circle(SKETCH_7_R)
        with Locations(Location((530, 4.5, 0), (0, 0, 270))):
            Circle(SKETCH_7_R)
        with Locations(Location((550, 4.5, 0), (0, 0, 270))):
            Circle(SKETCH_7_R)
        with Locations(Location((570, 4.5, 0), (0, 0, 270))):
            Circle(SKETCH_7_R)
        with Locations(Location((590, 4.5, 0), (0, 0, 270))):
            Circle(SKETCH_7_R)
    extrude(amount=CUT_EXTRUDE_5_DEPTH, mode=Mode.SUBTRACT)

    # 草图8 → 切除-拉伸6 (cut)
    with BuildSketch(Plane(origin=(6.5, 0, 0), x_dir=(0, 0, -1), z_dir=(1, 0, 0))):
        with Locations((-390, 4.5)):
            Circle(SKETCH_8_R)
        with Locations(Location((-410, 4.5, 0), (0, 0, 90))):
            Circle(SKETCH_8_R)
        with Locations(Location((-430, 4.5, 0), (0, 0, 90))):
            Circle(SKETCH_8_R)
        with Locations(Location((-450, 4.5, 0), (0, 0, 90))):
            Circle(SKETCH_8_R)
        with Locations(Location((-470, 4.5, 0), (0, 0, 90))):
            Circle(SKETCH_8_R)
        with Locations(Location((-490, 4.5, 0), (0, 0, 90))):
            Circle(SKETCH_8_R)
        with Locations(Location((-510, 4.5, 0), (0, 0, 90))):
            Circle(SKETCH_8_R)
        with Locations(Location((-530, 4.5, 0), (0, 0, 90))):
            Circle(SKETCH_8_R)
        with Locations(Location((-550, 4.5, 0), (0, 0, 90))):
            Circle(SKETCH_8_R)
        with Locations(Location((-570, 4.5, 0), (0, 0, 90))):
            Circle(SKETCH_8_R)
        with Locations(Location((-590, 4.5, 0), (0, 0, 90))):
            Circle(SKETCH_8_R)
    extrude(amount=-CUT_EXTRUDE_6_DEPTH, mode=Mode.SUBTRACT)

    # 草图10 → 切除-拉伸10 (cut)
    with BuildSketch(Plane(origin=(0, 0, 80), x_dir=(-1, 0, 0), z_dir=(0, 0, -1))):
        with BuildLine():
            Line((-6.5, 8.7), (-6.5, 0.3))
            ThreePointArc((-6.5, 0.3), (-6.412132034, 0.087867966), (-6.2, 0))
            Line((-6.2, 0), (-5.557669683, 0))
            ThreePointArc((-5.557669683, 0), (-5.444280341, 0.035249106), (-5.370859728, 0.128571429))
            ThreePointArc((-5.370859728, 0.128571429), (-5.130846451, 0.514929157), (-4.764285714, 0.784209483))
            ThreePointArc((-4.764285714, 0.784209483), (-4.680969149, 0.858006567), (-4.65, 0.964911064))
            Line((-4.65, 0.964911064), (-4.65, 1))
            ThreePointArc((-4.65, 1), (-4.25, 1.4), (-3.85, 1))
            Line((-3.85, 1), (-3.85, 0.964911064))
            ThreePointArc((-3.85, 0.964911064), (-3.819030851, 0.858006567), (-3.735714286, 0.784209483))
            ThreePointArc((-3.735714286, 0.784209483), (-3.369153549, 0.514929157), (-3.129140272, 0.128571429))
            ThreePointArc((-3.129140272, 0.128571429), (-3.055719659, 0.035249106), (-2.942330317, 0))
            Line((-2.942330317, 0), (-0.6, 0))
            Line((-0.6, 0), (0, 0.6))
            Line((0, 0.6), (0, 8.4))
            Line((0, 8.4), (-0.6, 9))
            Line((-0.6, 9), (-2.942330317, 9))
            ThreePointArc((-2.942330317, 9), (-3.055719659, 8.964750894), (-3.129140272, 8.871428571))
            ThreePointArc((-3.129140272, 8.871428571), (-3.369153549, 8.485070843), (-3.735714286, 8.215790517))
            ThreePointArc((-3.735714286, 8.215790517), (-3.819030851, 8.141993433), (-3.85, 8.035088936))
            Line((-3.85, 8.035088936), (-3.85, 8))
            ThreePointArc((-3.85, 8), (-4.25, 7.6), (-4.65, 8))
            Line((-4.65, 8), (-4.65, 8.035088936))
            ThreePointArc((-4.65, 8.035088936), (-4.680969149, 8.141993433), (-4.764285714, 8.215790517))
            ThreePointArc((-4.764285714, 8.215790517), (-5.130846451, 8.485070843), (-5.370859728, 8.871428571))
            ThreePointArc((-5.370859728, 8.871428571), (-5.444280341, 8.964750894), (-5.557669683, 9))
            Line((-5.557669683, 9), (-6.2, 9))
            ThreePointArc((-6.2, 9), (-6.412132034, 8.912132034), (-6.5, 8.7))
        make_face()
    extrude(amount=-CUT_EXTRUDE_10_DEPTH, mode=Mode.SUBTRACT)


solid = part.part
